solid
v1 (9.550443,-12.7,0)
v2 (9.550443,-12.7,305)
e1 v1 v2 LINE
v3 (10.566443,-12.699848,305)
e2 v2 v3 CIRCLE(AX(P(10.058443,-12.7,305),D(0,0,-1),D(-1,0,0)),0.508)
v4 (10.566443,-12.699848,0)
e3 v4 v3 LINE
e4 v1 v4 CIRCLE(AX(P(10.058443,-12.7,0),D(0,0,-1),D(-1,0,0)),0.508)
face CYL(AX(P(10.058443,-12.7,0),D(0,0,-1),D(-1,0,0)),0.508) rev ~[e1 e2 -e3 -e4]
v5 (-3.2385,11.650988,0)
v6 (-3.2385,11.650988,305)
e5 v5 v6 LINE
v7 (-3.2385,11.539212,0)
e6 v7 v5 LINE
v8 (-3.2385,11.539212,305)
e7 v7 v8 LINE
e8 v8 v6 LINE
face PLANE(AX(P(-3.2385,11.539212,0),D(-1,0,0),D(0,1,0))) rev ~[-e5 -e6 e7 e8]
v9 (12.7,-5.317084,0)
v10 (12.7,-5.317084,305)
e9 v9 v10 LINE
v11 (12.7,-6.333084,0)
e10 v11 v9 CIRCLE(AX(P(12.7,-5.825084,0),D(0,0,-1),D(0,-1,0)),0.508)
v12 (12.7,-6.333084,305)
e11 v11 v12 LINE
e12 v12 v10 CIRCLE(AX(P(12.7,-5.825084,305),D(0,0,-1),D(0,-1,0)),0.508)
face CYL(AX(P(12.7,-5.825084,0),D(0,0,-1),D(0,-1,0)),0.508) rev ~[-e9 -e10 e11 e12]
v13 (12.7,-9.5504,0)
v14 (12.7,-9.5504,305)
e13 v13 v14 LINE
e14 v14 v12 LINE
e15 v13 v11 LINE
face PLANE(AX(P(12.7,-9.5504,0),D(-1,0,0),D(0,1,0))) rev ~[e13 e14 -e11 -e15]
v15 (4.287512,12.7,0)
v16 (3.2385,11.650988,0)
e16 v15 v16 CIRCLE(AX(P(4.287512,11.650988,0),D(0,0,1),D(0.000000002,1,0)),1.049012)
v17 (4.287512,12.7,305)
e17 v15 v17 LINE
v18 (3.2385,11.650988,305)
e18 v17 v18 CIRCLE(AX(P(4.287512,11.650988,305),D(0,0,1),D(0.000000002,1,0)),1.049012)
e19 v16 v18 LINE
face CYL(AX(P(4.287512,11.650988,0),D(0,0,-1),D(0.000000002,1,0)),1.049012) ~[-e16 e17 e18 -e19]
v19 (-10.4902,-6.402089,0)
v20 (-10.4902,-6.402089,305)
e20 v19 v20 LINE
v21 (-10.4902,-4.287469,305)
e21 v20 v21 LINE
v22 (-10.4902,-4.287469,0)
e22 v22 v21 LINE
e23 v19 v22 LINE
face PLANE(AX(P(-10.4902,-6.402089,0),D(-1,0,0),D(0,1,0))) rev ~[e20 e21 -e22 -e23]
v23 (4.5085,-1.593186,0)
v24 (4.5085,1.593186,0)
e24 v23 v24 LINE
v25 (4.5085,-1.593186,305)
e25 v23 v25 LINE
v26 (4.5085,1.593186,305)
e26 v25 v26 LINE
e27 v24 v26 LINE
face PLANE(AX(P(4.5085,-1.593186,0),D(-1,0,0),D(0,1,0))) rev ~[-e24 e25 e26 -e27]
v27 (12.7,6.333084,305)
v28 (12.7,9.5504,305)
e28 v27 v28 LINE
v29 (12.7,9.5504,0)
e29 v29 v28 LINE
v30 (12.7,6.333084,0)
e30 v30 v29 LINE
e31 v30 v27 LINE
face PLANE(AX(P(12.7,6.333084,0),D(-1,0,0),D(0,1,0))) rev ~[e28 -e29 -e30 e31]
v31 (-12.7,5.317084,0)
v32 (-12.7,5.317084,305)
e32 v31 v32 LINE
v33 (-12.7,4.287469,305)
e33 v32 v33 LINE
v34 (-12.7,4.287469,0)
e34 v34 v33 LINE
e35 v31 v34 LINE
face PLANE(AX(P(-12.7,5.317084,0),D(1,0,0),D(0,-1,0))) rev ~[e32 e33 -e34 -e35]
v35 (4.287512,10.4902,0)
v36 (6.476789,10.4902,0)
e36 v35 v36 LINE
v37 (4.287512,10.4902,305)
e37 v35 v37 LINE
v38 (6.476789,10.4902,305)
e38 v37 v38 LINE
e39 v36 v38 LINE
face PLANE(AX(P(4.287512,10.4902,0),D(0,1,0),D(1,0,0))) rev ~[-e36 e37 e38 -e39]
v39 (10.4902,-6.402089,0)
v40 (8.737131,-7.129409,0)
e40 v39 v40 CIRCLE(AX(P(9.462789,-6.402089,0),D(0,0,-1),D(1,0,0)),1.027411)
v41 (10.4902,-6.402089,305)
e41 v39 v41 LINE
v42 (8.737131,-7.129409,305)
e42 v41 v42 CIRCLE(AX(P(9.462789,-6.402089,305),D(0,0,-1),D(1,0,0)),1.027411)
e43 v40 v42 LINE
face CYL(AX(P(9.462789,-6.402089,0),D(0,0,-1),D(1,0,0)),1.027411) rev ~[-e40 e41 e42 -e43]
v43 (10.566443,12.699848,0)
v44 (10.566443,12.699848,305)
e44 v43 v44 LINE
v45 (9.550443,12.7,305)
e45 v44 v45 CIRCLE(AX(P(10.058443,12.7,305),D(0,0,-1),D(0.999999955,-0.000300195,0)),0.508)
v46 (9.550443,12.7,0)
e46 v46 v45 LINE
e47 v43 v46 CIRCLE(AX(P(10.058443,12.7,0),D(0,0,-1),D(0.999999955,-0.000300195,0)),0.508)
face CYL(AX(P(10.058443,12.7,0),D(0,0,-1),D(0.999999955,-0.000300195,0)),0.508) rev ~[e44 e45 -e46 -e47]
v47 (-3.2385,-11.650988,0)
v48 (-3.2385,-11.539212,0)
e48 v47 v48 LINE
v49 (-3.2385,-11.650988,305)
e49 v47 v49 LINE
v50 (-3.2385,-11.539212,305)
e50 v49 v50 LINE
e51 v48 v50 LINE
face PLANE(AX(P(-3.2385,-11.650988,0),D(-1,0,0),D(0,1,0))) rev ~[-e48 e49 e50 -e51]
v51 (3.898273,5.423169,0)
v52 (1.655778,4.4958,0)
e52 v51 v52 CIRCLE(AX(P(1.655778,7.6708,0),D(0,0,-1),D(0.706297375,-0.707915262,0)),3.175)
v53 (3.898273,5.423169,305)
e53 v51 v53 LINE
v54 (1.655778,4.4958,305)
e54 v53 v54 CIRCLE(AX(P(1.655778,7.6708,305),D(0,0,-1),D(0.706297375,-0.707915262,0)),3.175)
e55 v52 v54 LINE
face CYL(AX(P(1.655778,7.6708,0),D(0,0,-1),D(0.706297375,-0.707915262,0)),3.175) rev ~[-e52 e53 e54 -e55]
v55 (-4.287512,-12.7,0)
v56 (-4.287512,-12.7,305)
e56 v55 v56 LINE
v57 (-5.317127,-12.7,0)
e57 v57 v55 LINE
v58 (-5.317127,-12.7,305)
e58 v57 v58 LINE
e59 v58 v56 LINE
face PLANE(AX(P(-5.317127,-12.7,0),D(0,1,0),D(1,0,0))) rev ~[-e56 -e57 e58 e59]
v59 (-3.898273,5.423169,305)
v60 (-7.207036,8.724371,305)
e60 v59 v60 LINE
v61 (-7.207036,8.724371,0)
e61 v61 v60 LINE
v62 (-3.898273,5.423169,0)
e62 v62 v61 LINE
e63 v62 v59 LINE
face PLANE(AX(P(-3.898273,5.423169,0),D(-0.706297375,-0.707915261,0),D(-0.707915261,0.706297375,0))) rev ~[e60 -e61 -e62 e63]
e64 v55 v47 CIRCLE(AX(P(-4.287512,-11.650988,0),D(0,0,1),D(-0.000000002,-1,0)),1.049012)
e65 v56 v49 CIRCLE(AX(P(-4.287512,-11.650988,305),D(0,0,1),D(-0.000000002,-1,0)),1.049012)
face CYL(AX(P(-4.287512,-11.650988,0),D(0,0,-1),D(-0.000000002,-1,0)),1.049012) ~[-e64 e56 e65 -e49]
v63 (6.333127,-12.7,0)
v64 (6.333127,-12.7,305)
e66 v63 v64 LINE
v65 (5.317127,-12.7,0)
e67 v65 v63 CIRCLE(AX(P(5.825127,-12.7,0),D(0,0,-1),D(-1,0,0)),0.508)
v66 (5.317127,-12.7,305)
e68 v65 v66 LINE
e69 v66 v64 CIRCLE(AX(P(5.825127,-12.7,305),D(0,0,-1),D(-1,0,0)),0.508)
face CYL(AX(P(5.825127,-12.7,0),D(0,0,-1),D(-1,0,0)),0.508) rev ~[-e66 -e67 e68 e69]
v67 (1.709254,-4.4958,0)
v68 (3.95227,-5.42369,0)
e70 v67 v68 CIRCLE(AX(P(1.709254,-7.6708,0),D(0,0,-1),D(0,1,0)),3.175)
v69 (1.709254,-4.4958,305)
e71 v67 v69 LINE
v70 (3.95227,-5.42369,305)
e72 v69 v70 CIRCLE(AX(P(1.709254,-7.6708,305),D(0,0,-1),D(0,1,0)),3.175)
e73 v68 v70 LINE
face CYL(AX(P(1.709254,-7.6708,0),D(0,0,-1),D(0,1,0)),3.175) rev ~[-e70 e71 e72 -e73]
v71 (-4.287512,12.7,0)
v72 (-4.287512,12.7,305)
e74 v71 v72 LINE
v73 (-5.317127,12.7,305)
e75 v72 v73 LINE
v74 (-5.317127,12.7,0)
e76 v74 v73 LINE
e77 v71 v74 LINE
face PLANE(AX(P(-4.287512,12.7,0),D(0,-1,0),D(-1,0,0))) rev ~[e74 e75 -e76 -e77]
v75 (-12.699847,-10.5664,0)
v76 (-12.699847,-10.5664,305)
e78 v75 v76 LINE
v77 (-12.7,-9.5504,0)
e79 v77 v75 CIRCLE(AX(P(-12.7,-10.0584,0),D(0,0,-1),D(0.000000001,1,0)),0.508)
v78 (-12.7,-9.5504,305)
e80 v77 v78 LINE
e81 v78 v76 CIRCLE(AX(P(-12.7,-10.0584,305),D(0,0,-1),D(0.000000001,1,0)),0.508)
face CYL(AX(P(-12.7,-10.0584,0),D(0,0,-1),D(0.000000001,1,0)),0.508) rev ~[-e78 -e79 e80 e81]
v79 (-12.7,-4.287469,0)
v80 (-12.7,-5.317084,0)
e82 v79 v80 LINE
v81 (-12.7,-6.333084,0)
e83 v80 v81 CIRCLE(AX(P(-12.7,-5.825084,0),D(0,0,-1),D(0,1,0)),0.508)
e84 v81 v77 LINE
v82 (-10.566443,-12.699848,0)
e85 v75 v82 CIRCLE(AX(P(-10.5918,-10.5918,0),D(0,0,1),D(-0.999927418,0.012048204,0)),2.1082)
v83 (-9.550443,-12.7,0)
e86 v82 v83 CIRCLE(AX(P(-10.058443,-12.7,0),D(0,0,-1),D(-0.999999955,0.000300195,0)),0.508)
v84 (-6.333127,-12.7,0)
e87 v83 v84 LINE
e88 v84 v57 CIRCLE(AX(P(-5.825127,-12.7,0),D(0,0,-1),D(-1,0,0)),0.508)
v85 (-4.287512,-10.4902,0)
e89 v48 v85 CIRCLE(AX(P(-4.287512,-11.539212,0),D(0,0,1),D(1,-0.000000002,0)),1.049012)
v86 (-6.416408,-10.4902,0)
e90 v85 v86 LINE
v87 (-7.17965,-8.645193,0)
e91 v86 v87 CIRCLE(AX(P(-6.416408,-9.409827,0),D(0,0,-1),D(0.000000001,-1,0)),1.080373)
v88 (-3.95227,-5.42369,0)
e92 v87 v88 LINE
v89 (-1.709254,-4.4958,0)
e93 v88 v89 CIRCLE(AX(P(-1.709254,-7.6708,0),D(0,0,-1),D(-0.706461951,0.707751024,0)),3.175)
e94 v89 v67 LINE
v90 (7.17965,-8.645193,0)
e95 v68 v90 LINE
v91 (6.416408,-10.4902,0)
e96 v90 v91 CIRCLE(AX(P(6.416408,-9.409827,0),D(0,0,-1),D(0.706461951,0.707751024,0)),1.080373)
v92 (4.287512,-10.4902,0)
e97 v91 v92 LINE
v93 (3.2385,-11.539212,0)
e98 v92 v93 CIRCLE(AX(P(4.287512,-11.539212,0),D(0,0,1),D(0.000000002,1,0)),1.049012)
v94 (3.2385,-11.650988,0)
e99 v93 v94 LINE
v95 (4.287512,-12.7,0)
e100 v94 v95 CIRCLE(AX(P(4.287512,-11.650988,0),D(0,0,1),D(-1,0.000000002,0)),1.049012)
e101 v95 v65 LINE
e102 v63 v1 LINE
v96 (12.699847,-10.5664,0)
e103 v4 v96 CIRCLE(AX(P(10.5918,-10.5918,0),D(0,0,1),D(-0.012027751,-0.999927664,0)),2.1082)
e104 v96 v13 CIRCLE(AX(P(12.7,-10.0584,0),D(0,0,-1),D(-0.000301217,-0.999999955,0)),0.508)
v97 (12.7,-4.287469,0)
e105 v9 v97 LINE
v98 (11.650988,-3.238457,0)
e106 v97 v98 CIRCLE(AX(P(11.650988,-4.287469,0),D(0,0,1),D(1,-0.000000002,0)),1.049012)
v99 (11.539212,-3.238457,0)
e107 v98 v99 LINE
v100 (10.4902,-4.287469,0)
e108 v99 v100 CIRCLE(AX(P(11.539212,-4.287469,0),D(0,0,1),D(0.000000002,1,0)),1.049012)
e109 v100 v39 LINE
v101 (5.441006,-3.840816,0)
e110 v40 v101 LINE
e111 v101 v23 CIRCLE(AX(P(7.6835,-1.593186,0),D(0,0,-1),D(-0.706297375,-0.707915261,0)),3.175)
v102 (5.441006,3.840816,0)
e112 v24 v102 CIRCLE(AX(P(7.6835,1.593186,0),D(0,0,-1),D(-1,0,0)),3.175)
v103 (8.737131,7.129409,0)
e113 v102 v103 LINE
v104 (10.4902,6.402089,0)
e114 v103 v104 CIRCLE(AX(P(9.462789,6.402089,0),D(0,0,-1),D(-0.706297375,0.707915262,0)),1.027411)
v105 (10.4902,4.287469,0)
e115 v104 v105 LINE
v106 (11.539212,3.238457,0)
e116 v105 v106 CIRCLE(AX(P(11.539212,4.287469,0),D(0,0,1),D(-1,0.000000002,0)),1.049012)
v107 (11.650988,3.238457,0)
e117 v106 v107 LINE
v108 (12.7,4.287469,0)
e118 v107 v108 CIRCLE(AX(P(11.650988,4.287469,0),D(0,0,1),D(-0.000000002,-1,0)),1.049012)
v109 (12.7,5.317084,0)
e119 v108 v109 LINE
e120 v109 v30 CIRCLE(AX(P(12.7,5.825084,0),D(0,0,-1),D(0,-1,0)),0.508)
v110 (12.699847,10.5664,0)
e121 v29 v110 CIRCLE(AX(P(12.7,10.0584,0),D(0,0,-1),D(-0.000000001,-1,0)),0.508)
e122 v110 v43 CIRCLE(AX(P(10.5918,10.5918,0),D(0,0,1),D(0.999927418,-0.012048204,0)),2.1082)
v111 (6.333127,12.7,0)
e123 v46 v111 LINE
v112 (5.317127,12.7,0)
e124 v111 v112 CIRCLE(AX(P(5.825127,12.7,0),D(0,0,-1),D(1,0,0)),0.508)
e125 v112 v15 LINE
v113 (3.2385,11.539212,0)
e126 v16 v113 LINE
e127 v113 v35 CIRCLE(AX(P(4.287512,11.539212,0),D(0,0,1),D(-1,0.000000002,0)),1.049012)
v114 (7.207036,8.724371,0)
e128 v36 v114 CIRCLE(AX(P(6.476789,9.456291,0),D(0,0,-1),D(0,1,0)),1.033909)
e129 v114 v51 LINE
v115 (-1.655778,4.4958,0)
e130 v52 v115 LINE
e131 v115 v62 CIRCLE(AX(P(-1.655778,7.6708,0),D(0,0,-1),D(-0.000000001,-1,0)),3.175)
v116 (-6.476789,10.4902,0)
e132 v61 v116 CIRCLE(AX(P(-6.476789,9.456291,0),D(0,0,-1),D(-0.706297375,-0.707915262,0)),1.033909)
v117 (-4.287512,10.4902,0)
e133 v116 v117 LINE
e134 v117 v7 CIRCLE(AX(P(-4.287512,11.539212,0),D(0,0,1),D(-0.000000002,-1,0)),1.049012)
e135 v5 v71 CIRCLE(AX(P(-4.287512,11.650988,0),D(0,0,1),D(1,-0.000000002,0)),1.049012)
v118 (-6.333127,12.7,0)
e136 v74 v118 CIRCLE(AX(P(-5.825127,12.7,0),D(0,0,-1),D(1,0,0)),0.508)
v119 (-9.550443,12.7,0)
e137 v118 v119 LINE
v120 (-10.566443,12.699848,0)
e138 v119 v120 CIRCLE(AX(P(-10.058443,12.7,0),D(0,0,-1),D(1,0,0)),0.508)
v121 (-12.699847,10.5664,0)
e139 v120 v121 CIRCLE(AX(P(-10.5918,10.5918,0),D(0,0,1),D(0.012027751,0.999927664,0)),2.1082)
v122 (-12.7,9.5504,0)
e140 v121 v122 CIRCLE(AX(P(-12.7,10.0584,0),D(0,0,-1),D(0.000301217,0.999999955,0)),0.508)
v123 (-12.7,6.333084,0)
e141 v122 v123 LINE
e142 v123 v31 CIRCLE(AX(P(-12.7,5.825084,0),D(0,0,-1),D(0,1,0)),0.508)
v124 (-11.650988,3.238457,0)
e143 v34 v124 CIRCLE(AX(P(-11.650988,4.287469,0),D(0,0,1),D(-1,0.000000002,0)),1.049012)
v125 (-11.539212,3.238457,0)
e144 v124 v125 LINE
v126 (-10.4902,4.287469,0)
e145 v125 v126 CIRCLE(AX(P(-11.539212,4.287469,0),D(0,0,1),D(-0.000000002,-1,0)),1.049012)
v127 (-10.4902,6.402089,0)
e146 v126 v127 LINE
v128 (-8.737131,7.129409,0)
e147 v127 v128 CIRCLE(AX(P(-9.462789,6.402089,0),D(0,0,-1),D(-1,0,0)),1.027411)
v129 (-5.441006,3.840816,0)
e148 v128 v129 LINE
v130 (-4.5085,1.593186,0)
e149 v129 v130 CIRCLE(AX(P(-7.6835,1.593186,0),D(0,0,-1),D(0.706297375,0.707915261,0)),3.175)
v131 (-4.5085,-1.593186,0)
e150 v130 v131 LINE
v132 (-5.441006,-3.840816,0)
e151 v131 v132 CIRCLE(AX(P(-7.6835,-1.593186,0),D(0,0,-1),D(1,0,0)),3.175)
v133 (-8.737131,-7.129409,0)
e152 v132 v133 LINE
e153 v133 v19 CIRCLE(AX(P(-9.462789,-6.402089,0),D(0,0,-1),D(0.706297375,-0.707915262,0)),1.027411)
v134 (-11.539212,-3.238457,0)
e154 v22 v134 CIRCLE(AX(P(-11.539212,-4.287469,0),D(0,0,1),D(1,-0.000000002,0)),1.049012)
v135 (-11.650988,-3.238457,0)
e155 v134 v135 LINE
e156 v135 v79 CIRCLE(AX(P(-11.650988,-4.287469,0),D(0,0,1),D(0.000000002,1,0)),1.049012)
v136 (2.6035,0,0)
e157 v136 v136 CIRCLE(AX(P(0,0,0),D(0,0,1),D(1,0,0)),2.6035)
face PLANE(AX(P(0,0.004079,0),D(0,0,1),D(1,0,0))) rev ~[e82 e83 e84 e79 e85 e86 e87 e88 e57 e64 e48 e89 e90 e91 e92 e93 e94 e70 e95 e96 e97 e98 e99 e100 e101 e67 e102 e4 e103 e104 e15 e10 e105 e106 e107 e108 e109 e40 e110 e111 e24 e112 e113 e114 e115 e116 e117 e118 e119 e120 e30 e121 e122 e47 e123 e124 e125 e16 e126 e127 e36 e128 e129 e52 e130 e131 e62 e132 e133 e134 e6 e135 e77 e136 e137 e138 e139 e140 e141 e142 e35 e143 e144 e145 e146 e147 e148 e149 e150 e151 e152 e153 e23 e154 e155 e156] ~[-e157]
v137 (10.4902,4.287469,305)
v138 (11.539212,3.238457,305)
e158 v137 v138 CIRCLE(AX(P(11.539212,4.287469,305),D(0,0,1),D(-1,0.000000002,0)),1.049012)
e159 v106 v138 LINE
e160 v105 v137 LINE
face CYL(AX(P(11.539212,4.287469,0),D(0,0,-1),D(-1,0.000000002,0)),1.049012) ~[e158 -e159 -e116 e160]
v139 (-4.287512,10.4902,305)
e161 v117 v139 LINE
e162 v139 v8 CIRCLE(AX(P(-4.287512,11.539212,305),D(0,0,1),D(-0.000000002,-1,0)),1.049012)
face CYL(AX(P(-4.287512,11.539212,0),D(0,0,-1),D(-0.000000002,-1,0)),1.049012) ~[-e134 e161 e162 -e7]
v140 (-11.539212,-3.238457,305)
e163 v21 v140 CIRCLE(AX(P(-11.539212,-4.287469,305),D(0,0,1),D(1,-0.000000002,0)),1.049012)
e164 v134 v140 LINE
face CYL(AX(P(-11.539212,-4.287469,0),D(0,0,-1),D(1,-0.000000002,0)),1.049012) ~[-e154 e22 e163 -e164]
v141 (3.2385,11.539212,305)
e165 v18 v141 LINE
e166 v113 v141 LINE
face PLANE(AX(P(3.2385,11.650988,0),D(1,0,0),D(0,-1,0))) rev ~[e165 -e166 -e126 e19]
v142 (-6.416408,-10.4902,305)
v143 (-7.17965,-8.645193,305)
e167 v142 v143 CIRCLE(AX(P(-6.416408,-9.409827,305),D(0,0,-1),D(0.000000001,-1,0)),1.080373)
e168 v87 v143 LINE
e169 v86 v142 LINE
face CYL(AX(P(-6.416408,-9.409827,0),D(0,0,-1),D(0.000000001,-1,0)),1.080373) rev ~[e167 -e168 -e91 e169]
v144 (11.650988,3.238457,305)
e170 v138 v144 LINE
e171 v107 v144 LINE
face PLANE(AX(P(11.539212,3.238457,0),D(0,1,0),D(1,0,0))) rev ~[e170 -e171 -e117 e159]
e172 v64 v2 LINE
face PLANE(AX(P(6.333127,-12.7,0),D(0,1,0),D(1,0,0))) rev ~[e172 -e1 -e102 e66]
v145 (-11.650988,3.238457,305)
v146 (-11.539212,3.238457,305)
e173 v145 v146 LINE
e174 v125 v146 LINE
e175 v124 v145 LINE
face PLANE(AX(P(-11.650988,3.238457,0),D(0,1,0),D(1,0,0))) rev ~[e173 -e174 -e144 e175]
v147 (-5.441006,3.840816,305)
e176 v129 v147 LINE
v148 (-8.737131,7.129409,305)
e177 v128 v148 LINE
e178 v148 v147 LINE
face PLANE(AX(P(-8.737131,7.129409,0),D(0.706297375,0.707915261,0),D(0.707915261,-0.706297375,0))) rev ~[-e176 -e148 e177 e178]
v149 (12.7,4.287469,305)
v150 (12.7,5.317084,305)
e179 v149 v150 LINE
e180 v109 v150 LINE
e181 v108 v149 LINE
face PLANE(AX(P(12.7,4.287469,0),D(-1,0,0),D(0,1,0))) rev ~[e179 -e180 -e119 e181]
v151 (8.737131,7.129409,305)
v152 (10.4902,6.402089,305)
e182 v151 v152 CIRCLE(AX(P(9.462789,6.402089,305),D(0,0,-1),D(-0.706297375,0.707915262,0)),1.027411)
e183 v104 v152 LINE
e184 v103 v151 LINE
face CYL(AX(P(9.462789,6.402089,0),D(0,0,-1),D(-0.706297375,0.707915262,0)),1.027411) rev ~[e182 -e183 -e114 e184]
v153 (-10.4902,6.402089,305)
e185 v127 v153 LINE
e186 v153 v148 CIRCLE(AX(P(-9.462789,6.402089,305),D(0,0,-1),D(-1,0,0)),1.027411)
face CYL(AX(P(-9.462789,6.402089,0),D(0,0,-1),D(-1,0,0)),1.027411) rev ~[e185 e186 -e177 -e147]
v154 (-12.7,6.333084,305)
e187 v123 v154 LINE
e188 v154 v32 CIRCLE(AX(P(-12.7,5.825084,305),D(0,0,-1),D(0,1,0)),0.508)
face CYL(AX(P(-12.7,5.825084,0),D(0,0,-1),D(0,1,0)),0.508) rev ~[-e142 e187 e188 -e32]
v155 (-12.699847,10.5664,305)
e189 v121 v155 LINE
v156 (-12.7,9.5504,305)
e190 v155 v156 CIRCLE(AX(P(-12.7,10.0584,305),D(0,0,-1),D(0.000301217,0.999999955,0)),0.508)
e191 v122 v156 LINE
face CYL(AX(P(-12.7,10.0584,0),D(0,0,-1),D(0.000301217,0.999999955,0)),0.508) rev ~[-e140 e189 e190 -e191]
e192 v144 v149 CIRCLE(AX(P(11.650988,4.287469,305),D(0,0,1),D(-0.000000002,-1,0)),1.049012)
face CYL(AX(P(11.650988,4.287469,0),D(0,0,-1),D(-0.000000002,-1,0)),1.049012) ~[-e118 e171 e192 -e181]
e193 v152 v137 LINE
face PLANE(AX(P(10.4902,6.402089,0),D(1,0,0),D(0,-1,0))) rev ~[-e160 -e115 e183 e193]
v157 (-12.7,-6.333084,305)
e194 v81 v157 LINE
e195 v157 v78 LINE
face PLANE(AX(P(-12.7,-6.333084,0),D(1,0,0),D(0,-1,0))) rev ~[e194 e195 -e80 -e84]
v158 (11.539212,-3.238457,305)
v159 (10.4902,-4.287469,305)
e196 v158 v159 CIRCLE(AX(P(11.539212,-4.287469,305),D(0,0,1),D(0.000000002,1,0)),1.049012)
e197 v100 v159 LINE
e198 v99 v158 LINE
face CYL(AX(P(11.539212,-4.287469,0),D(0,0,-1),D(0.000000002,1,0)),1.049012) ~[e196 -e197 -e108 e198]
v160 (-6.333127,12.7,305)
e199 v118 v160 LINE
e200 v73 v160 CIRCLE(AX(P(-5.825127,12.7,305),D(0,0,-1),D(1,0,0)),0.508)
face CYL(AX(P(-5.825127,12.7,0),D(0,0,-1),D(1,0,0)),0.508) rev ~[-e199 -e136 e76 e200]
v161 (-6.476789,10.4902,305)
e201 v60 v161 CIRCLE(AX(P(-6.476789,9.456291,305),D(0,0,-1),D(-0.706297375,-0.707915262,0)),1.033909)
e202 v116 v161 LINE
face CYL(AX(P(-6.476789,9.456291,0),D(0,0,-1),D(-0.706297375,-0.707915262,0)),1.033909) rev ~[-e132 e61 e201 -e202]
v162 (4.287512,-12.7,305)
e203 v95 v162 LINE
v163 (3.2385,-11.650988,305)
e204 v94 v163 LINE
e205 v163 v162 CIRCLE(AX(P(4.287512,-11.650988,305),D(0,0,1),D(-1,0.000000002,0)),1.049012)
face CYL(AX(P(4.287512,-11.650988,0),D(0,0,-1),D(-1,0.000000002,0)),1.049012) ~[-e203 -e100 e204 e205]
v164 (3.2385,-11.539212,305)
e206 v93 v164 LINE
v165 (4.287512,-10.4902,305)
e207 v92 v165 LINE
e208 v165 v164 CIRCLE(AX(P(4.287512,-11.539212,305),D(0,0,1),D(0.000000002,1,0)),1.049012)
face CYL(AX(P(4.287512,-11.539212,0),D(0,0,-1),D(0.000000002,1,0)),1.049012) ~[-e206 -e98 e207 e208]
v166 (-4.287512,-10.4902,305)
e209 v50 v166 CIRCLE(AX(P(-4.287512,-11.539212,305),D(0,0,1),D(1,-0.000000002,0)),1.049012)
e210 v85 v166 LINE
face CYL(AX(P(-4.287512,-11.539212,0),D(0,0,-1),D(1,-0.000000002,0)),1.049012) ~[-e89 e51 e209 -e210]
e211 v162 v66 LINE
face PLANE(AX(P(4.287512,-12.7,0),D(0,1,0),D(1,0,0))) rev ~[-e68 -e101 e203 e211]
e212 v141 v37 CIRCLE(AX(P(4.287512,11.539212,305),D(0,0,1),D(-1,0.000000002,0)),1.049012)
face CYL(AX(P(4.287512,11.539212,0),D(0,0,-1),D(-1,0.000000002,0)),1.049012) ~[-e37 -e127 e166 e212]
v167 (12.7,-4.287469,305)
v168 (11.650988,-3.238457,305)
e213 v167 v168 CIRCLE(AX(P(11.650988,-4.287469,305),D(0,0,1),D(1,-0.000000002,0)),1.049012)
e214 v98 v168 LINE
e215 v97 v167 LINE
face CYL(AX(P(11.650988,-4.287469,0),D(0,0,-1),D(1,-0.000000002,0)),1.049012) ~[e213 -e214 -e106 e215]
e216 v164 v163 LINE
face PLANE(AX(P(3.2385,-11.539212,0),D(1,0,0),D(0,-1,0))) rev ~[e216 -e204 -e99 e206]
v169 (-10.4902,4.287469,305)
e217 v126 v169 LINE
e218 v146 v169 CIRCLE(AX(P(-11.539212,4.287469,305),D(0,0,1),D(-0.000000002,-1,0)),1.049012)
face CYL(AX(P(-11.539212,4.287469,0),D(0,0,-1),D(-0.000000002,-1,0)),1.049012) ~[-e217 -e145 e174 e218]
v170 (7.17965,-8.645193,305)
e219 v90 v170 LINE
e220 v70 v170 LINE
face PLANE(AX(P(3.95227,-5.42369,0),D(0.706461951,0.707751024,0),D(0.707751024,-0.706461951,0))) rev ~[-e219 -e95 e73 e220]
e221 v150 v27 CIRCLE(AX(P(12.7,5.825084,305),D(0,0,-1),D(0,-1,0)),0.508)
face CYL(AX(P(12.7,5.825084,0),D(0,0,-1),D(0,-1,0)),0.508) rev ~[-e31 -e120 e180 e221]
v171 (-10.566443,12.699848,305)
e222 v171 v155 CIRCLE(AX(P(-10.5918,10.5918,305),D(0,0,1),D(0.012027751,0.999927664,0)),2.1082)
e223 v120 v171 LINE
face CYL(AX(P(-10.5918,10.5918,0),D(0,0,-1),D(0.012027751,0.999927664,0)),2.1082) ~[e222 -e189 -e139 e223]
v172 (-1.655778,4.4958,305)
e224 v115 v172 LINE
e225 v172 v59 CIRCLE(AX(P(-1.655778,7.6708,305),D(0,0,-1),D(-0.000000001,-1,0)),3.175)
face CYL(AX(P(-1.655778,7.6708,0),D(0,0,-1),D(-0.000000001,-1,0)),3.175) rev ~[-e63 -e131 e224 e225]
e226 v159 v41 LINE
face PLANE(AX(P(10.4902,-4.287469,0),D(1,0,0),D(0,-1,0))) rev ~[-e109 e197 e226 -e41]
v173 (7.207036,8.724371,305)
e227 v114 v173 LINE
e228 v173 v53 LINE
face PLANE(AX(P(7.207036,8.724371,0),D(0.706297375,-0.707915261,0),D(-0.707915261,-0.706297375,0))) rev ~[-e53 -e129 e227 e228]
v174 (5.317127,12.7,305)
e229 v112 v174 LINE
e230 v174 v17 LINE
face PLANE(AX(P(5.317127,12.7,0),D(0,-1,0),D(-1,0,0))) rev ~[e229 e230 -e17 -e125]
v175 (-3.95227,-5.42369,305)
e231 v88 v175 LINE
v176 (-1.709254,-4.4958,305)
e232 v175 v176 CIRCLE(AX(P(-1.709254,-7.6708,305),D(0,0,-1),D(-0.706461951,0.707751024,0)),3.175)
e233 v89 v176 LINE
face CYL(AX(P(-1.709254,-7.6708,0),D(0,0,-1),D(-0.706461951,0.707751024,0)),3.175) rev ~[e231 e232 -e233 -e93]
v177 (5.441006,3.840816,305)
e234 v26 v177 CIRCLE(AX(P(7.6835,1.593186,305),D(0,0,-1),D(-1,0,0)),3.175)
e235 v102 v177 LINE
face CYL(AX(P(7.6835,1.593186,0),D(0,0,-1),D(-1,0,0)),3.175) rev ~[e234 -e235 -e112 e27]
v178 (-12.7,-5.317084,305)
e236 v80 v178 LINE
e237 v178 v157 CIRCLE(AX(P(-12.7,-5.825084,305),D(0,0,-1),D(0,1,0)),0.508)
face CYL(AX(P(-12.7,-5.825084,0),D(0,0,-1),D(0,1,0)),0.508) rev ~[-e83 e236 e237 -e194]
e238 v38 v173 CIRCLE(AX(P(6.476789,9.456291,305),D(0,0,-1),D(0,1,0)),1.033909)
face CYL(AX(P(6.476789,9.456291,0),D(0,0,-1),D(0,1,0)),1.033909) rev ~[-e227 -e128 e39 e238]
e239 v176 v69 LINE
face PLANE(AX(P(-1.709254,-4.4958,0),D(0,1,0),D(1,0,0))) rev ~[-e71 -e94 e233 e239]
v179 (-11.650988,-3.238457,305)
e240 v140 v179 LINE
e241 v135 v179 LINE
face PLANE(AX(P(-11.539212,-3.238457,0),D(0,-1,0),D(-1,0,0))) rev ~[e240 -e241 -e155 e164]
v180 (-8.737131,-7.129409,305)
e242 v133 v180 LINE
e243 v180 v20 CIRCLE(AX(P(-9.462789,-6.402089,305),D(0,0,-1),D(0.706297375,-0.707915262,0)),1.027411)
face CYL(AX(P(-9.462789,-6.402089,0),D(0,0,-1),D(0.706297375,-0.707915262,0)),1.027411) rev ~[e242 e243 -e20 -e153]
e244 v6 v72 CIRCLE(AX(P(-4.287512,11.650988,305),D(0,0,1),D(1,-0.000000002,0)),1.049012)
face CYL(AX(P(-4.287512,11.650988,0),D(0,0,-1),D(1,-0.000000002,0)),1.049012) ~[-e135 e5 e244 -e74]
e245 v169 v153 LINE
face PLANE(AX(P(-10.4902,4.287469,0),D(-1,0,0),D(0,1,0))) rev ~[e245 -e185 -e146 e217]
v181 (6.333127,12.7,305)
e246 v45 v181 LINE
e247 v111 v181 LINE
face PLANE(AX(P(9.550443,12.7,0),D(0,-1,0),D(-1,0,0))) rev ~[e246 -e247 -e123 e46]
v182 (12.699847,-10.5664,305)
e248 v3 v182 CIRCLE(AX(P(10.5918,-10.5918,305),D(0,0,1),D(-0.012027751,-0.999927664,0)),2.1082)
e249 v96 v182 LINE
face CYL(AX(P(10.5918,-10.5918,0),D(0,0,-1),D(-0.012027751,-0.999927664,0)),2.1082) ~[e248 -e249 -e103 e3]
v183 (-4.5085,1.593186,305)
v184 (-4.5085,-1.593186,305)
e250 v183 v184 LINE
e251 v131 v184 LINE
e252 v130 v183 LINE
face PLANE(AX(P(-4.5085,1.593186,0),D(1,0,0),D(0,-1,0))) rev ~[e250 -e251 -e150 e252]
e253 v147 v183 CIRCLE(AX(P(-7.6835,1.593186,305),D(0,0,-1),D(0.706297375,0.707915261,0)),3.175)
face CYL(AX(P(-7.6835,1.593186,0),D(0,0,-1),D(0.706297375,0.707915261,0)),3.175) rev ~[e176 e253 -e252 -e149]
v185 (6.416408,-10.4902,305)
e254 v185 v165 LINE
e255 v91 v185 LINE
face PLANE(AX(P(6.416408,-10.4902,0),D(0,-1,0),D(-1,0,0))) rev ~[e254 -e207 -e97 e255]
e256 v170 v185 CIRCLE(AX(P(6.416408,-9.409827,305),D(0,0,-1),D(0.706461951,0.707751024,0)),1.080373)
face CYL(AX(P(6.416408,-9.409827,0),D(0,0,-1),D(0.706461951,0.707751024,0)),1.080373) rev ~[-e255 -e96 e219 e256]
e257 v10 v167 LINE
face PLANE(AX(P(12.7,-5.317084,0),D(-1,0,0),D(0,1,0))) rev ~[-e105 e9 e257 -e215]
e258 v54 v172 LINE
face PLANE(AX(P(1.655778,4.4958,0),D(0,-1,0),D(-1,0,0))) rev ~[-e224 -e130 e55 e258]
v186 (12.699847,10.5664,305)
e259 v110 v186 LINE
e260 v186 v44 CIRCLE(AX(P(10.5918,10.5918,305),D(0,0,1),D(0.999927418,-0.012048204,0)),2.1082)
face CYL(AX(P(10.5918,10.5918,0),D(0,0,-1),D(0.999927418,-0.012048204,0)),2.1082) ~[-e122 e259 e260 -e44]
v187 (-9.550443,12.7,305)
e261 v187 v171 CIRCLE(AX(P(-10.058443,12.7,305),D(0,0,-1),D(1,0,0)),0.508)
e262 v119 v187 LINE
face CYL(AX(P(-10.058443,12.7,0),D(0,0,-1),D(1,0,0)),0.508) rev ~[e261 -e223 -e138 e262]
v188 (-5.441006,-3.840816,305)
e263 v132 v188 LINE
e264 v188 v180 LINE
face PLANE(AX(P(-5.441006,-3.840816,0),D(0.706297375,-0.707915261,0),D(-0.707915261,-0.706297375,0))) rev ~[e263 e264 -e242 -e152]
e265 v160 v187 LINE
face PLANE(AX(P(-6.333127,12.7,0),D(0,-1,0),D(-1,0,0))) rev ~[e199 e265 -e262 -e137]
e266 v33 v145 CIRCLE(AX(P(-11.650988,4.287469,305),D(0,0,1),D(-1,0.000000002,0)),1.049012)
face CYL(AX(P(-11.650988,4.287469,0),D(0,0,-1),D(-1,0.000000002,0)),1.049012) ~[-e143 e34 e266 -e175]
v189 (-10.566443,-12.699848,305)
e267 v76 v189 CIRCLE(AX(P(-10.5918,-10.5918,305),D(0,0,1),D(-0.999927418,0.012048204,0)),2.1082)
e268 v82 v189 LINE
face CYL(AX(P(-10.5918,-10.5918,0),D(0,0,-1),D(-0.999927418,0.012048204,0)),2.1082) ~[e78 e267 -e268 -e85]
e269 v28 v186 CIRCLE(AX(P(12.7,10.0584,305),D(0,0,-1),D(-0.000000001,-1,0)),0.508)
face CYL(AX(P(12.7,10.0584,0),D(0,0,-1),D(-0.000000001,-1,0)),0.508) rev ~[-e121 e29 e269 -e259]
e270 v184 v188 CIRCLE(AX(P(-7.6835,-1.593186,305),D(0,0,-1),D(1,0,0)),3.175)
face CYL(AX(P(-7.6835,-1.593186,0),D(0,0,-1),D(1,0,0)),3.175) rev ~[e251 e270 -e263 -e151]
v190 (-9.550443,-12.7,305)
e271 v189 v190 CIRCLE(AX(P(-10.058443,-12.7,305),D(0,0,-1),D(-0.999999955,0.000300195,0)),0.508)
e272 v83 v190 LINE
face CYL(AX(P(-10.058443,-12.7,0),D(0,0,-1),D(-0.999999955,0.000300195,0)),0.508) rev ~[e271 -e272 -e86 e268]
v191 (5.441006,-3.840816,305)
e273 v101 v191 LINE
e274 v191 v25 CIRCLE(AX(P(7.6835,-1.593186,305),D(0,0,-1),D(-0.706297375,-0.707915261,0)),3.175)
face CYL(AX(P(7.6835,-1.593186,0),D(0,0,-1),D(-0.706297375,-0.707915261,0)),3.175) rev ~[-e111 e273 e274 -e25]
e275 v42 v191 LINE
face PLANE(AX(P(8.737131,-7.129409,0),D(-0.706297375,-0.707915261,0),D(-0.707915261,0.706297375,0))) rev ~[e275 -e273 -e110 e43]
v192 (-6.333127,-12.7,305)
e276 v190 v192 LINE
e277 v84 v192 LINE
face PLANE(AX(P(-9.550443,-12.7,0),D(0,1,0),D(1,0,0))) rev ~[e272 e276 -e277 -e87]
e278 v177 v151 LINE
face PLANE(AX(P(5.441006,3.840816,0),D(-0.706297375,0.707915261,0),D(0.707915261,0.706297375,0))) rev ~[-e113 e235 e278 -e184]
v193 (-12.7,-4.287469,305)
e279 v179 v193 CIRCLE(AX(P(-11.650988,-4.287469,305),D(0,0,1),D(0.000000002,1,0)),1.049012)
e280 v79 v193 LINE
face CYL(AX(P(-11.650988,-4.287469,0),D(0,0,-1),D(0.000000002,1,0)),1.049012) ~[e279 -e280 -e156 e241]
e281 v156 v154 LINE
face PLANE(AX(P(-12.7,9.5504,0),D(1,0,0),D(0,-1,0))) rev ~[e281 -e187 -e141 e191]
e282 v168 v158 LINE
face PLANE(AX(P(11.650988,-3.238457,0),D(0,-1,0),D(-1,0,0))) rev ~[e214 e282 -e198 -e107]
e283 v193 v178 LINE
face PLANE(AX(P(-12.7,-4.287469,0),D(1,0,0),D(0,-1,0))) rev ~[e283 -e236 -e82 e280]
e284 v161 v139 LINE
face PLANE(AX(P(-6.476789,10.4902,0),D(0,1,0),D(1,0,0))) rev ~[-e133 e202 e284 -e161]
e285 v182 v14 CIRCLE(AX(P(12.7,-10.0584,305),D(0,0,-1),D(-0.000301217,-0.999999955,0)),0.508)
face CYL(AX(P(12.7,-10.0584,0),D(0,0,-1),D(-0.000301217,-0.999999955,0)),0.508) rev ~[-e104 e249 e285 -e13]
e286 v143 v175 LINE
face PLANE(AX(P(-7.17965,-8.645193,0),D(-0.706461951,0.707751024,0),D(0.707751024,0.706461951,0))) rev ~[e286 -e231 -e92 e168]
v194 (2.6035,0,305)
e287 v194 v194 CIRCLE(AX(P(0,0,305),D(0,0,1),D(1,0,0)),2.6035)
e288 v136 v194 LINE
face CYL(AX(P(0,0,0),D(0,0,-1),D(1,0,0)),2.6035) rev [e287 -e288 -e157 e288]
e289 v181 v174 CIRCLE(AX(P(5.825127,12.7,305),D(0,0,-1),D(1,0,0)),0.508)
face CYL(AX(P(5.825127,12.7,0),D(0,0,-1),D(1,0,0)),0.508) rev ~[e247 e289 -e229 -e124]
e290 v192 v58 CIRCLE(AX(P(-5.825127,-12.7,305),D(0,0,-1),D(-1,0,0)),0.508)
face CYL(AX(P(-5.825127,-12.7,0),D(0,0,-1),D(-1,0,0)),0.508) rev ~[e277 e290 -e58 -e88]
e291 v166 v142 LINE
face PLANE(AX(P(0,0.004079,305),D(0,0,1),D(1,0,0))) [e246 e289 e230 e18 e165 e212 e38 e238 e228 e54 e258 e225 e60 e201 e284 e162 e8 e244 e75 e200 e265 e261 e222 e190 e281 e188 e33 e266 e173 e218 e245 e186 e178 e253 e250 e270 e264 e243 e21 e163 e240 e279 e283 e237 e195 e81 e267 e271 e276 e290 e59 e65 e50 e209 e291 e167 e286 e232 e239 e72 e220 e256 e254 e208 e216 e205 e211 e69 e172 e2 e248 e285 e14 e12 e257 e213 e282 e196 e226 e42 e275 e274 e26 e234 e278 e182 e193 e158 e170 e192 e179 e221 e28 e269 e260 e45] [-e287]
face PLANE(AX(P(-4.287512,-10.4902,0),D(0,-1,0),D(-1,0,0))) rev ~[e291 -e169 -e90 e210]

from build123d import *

# Parameters (mm, degrees)
SKETCH1_R           = 2.6035
BOSS_EXTRUDE1_DEPTH = 305


with BuildPart() as part:
    # Sketch1 → Boss-Extrude1 (new body)
    with BuildSketch(Plane.XY):
        with BuildLine():
            Line((-7.179650497, -8.645192506), (-3.952270251, -5.423690499))
            ThreePointArc((-3.952270251, -5.423690499), (-2.922936451, -4.736929036), (-1.709253557, -4.4958))
            Line((-1.709253557, -4.4958), (1.709253557, -4.4958))
            ThreePointArc((1.709253557, -4.4958), (2.922936451, -4.736929036), (3.952270251, -5.423690499))
            Line((3.952270251, -5.423690499), (7.179650497, -8.645192506))
            ThreePointArc((7.179650497, -8.645192506), (7.41473083, -9.822813117), (6.416408329, -10.4902))
            Line((6.416408329, -10.4902), (4.287512407, -10.4902))
            ThreePointArc((4.287512407, -10.4902), (3.54574862, -10.79744862), (3.2385, -11.539212407))
            Line((3.2385, -11.539212407), (3.2385, -11.650987593))
            ThreePointArc((3.2385, -11.650987593), (3.54574862, -12.39275138), (4.287512407, -12.7))
            Line((4.287512407, -12.7), (5.317126718, -12.7))
            ThreePointArc((5.317126718, -12.7), (5.825126718, -12.192), (6.333126718, -12.7))
            Line((6.333126718, -12.7), (9.550443118, -12.7))
            ThreePointArc((9.550443118, -12.7), (10.058366869, -12.192000006), (10.566443095, -12.699847501))
            ThreePointArc((10.566443095, -12.699847501), (12.082537762, -12.08250727), (12.699846982, -10.566399977))
            ThreePointArc((12.699846982, -10.566399977), (12.192000006, -10.058323491), (12.7, -9.5504))
            Line((12.7, -9.5504), (12.7, -6.3330836))
            ThreePointArc((12.7, -6.3330836), (12.192, -5.8250836), (12.7, -5.3170836))
            Line((12.7, -5.3170836), (12.7, -4.287469289))
            ThreePointArc((12.7, -4.287469289), (12.39275138, -3.545705502), (11.650987593, -3.238456882))
            Line((11.650987593, -3.238456882), (11.539212407, -3.238456882))
            ThreePointArc((11.539212407, -3.238456882), (10.79744862, -3.545705502), (10.4902, -4.287469289))
            Line((10.4902, -4.287469289), (10.4902, -6.402089023))
            ThreePointArc((10.4902, -6.402089023), (9.856505071, -7.351067942), (8.737131347, -7.129408934))
            Line((8.737131347, -7.129408934), (5.441005833, -3.840816462))
            ThreePointArc((5.441005833, -3.840816462), (4.750877967, -2.809883091), (4.5085, -1.593185507))
            Line((4.5085, -1.593185507), (4.5085, 1.593185507))
            ThreePointArc((4.5085, 1.593185507), (4.750877967, 2.809883091), (5.441005833, 3.840816462))
            Line((5.441005833, 3.840816462), (8.737131347, 7.129408934))
            ThreePointArc((8.737131347, 7.129408934), (9.856505071, 7.351067942), (10.4902, 6.402089023))
            Line((10.4902, 6.402089023), (10.4902, 4.287469289))
            ThreePointArc((10.4902, 4.287469289), (10.79744862, 3.545705502), (11.539212407, 3.238456882))
            Line((11.539212407, 3.238456882), (11.650987593, 3.238456882))
            ThreePointArc((11.650987593, 3.238456882), (12.39275138, 3.545705502), (12.7, 4.287469289))
            Line((12.7, 4.287469289), (12.7, 5.3170836))
            ThreePointArc((12.7, 5.3170836), (12.192, 5.8250836), (12.7, 6.3330836))
            Line((12.7, 6.3330836), (12.7, 9.5504))
            ThreePointArc((12.7, 9.5504), (12.192000006, 10.058323491), (12.699846982, 10.566399977))
            ThreePointArc((12.699846982, 10.566399977), (12.082537762, 12.08250727), (10.566443095, 12.699847501))
            ThreePointArc((10.566443095, 12.699847501), (10.058366869, 12.192000006), (9.550443118, 12.7))
            Line((9.550443118, 12.7), (6.333126718, 12.7))
            ThreePointArc((6.333126718, 12.7), (5.825126718, 12.192), (5.317126718, 12.7))
            Line((5.317126718, 12.7), (4.287512407, 12.7))
            ThreePointArc((4.287512407, 12.7), (3.54574862, 12.39275138), (3.2385, 11.650987593))
            Line((3.2385, 11.650987593), (3.2385, 11.539212407))
            ThreePointArc((3.2385, 11.539212407), (3.54574862, 10.79744862), (4.287512407, 10.4902))
            Line((4.287512407, 10.4902), (6.476788598, 10.4902))
            ThreePointArc((6.476788598, 10.4902), (7.432222385, 9.85140422), (7.207036008, 8.724370562))
            Line((7.207036008, 8.724370562), (3.898272566, 5.423169045))
            ThreePointArc((3.898272566, 5.423169045), (2.869120213, 4.736787962), (1.655778399, 4.4958))
            Line((1.655778399, 4.4958), (-1.655778399, 4.4958))
            ThreePointArc((-1.655778399, 4.4958), (-2.869120213, 4.736787962), (-3.898272566, 5.423169045))
            Line((-3.898272566, 5.423169045), (-7.207036008, 8.724370562))
            ThreePointArc((-7.207036008, 8.724370562), (-7.432222385, 9.85140422), (-6.476788598, 10.4902))
            Line((-6.476788598, 10.4902), (-4.287512407, 10.4902))
            ThreePointArc((-4.287512407, 10.4902), (-3.54574862, 10.79744862), (-3.2385, 11.539212407))
            Line((-3.2385, 11.539212407), (-3.2385, 11.650987593))
            ThreePointArc((-3.2385, 11.650987593), (-3.54574862, 12.39275138), (-4.287512407, 12.7))
            Line((-4.287512407, 12.7), (-5.317126718, 12.7))
            ThreePointArc((-5.317126718, 12.7), (-5.825126718, 12.192), (-6.333126718, 12.7))
            Line((-6.333126718, 12.7), (-9.550443118, 12.7))
            ThreePointArc((-9.550443118, 12.7), (-10.058366869, 12.192000006), (-10.566443095, 12.699847501))
            ThreePointArc((-10.566443095, 12.699847501), (-12.082537762, 12.08250727), (-12.699846982, 10.566399977))
            ThreePointArc((-12.699846982, 10.566399977), (-12.192000006, 10.058323491), (-12.7, 9.5504))
            Line((-12.7, 9.5504), (-12.7, 6.3330836))
            ThreePointArc((-12.7, 6.3330836), (-12.192, 5.8250836), (-12.7, 5.3170836))
            Line((-12.7, 5.3170836), (-12.7, 4.287469289))
            ThreePointArc((-12.7, 4.287469289), (-12.39275138, 3.545705502), (-11.650987593, 3.238456882))
            Line((-11.650987593, 3.238456882), (-11.539212407, 3.238456882))
            ThreePointArc((-11.539212407, 3.238456882), (-10.79744862, 3.545705502), (-10.4902, 4.287469289))
            Line((-10.4902, 4.287469289), (-10.4902, 6.402089023))
            ThreePointArc((-10.4902, 6.402089023), (-9.856505071, 7.351067942), (-8.737131347, 7.129408934))
            Line((-8.737131347, 7.129408934), (-5.441005833, 3.840816462))
            ThreePointArc((-5.441005833, 3.840816462), (-4.750877967, 2.809883091), (-4.5085, 1.593185507))
            Line((-4.5085, 1.593185507), (-4.5085, -1.593185507))
            ThreePointArc((-4.5085, -1.593185507), (-4.750877967, -2.809883091), (-5.441005833, -3.840816462))
            Line((-5.441005833, -3.840816462), (-8.737131347, -7.129408934))
            ThreePointArc((-8.737131347, -7.129408934), (-9.856505071, -7.351067942), (-10.4902, -6.402089023))
            Line((-10.4902, -6.402089023), (-10.4902, -4.287469289))
            ThreePointArc((-10.4902, -4.287469289), (-10.79744862, -3.545705502), (-11.539212407, -3.238456882))
            Line((-11.539212407, -3.238456882), (-11.650987593, -3.238456882))
            ThreePointArc((-11.650987593, -3.238456882), (-12.39275138, -3.545705502), (-12.7, -4.287469289))
            Line((-12.7, -4.287469289), (-12.7, -5.3170836))
            ThreePointArc((-12.7, -5.3170836), (-12.192, -5.8250836), (-12.7, -6.3330836))
            Line((-12.7, -6.3330836), (-12.7, -9.5504))
            ThreePointArc((-12.7, -9.5504), (-12.192000006, -10.058323491), (-12.699846982, -10.566399977))
            ThreePointArc((-12.699846982, -10.566399977), (-12.082537762, -12.08250727), (-10.566443095, -12.699847501))
            ThreePointArc((-10.566443095, -12.699847501), (-10.058366869, -12.192000006), (-9.550443118, -12.7))
            Line((-9.550443118, -12.7), (-6.333126718, -12.7))
            ThreePointArc((-6.333126718, -12.7), (-5.825126718, -12.192), (-5.317126718, -12.7))
            Line((-5.317126718, -12.7), (-4.287512407, -12.7))
            ThreePointArc((-4.287512407, -12.7), (-3.54574862, -12.39275138), (-3.2385, -11.650987593))
            Line((-3.2385, -11.650987593), (-3.2385, -11.539212407))
            ThreePointArc((-3.2385, -11.539212407), (-3.54574862, -10.79744862), (-4.287512407, -10.4902))
            Line((-4.287512407, -10.4902), (-6.416408329, -10.4902))
            ThreePointArc((-6.416408329, -10.4902), (-7.41473083, -9.822813117), (-7.179650497, -8.645192506))
        make_face()
        Circle(SKETCH1_R, mode=Mode.SUBTRACT)
    extrude(amount=BOSS_EXTRUDE1_DEPTH)


solid = part.part
